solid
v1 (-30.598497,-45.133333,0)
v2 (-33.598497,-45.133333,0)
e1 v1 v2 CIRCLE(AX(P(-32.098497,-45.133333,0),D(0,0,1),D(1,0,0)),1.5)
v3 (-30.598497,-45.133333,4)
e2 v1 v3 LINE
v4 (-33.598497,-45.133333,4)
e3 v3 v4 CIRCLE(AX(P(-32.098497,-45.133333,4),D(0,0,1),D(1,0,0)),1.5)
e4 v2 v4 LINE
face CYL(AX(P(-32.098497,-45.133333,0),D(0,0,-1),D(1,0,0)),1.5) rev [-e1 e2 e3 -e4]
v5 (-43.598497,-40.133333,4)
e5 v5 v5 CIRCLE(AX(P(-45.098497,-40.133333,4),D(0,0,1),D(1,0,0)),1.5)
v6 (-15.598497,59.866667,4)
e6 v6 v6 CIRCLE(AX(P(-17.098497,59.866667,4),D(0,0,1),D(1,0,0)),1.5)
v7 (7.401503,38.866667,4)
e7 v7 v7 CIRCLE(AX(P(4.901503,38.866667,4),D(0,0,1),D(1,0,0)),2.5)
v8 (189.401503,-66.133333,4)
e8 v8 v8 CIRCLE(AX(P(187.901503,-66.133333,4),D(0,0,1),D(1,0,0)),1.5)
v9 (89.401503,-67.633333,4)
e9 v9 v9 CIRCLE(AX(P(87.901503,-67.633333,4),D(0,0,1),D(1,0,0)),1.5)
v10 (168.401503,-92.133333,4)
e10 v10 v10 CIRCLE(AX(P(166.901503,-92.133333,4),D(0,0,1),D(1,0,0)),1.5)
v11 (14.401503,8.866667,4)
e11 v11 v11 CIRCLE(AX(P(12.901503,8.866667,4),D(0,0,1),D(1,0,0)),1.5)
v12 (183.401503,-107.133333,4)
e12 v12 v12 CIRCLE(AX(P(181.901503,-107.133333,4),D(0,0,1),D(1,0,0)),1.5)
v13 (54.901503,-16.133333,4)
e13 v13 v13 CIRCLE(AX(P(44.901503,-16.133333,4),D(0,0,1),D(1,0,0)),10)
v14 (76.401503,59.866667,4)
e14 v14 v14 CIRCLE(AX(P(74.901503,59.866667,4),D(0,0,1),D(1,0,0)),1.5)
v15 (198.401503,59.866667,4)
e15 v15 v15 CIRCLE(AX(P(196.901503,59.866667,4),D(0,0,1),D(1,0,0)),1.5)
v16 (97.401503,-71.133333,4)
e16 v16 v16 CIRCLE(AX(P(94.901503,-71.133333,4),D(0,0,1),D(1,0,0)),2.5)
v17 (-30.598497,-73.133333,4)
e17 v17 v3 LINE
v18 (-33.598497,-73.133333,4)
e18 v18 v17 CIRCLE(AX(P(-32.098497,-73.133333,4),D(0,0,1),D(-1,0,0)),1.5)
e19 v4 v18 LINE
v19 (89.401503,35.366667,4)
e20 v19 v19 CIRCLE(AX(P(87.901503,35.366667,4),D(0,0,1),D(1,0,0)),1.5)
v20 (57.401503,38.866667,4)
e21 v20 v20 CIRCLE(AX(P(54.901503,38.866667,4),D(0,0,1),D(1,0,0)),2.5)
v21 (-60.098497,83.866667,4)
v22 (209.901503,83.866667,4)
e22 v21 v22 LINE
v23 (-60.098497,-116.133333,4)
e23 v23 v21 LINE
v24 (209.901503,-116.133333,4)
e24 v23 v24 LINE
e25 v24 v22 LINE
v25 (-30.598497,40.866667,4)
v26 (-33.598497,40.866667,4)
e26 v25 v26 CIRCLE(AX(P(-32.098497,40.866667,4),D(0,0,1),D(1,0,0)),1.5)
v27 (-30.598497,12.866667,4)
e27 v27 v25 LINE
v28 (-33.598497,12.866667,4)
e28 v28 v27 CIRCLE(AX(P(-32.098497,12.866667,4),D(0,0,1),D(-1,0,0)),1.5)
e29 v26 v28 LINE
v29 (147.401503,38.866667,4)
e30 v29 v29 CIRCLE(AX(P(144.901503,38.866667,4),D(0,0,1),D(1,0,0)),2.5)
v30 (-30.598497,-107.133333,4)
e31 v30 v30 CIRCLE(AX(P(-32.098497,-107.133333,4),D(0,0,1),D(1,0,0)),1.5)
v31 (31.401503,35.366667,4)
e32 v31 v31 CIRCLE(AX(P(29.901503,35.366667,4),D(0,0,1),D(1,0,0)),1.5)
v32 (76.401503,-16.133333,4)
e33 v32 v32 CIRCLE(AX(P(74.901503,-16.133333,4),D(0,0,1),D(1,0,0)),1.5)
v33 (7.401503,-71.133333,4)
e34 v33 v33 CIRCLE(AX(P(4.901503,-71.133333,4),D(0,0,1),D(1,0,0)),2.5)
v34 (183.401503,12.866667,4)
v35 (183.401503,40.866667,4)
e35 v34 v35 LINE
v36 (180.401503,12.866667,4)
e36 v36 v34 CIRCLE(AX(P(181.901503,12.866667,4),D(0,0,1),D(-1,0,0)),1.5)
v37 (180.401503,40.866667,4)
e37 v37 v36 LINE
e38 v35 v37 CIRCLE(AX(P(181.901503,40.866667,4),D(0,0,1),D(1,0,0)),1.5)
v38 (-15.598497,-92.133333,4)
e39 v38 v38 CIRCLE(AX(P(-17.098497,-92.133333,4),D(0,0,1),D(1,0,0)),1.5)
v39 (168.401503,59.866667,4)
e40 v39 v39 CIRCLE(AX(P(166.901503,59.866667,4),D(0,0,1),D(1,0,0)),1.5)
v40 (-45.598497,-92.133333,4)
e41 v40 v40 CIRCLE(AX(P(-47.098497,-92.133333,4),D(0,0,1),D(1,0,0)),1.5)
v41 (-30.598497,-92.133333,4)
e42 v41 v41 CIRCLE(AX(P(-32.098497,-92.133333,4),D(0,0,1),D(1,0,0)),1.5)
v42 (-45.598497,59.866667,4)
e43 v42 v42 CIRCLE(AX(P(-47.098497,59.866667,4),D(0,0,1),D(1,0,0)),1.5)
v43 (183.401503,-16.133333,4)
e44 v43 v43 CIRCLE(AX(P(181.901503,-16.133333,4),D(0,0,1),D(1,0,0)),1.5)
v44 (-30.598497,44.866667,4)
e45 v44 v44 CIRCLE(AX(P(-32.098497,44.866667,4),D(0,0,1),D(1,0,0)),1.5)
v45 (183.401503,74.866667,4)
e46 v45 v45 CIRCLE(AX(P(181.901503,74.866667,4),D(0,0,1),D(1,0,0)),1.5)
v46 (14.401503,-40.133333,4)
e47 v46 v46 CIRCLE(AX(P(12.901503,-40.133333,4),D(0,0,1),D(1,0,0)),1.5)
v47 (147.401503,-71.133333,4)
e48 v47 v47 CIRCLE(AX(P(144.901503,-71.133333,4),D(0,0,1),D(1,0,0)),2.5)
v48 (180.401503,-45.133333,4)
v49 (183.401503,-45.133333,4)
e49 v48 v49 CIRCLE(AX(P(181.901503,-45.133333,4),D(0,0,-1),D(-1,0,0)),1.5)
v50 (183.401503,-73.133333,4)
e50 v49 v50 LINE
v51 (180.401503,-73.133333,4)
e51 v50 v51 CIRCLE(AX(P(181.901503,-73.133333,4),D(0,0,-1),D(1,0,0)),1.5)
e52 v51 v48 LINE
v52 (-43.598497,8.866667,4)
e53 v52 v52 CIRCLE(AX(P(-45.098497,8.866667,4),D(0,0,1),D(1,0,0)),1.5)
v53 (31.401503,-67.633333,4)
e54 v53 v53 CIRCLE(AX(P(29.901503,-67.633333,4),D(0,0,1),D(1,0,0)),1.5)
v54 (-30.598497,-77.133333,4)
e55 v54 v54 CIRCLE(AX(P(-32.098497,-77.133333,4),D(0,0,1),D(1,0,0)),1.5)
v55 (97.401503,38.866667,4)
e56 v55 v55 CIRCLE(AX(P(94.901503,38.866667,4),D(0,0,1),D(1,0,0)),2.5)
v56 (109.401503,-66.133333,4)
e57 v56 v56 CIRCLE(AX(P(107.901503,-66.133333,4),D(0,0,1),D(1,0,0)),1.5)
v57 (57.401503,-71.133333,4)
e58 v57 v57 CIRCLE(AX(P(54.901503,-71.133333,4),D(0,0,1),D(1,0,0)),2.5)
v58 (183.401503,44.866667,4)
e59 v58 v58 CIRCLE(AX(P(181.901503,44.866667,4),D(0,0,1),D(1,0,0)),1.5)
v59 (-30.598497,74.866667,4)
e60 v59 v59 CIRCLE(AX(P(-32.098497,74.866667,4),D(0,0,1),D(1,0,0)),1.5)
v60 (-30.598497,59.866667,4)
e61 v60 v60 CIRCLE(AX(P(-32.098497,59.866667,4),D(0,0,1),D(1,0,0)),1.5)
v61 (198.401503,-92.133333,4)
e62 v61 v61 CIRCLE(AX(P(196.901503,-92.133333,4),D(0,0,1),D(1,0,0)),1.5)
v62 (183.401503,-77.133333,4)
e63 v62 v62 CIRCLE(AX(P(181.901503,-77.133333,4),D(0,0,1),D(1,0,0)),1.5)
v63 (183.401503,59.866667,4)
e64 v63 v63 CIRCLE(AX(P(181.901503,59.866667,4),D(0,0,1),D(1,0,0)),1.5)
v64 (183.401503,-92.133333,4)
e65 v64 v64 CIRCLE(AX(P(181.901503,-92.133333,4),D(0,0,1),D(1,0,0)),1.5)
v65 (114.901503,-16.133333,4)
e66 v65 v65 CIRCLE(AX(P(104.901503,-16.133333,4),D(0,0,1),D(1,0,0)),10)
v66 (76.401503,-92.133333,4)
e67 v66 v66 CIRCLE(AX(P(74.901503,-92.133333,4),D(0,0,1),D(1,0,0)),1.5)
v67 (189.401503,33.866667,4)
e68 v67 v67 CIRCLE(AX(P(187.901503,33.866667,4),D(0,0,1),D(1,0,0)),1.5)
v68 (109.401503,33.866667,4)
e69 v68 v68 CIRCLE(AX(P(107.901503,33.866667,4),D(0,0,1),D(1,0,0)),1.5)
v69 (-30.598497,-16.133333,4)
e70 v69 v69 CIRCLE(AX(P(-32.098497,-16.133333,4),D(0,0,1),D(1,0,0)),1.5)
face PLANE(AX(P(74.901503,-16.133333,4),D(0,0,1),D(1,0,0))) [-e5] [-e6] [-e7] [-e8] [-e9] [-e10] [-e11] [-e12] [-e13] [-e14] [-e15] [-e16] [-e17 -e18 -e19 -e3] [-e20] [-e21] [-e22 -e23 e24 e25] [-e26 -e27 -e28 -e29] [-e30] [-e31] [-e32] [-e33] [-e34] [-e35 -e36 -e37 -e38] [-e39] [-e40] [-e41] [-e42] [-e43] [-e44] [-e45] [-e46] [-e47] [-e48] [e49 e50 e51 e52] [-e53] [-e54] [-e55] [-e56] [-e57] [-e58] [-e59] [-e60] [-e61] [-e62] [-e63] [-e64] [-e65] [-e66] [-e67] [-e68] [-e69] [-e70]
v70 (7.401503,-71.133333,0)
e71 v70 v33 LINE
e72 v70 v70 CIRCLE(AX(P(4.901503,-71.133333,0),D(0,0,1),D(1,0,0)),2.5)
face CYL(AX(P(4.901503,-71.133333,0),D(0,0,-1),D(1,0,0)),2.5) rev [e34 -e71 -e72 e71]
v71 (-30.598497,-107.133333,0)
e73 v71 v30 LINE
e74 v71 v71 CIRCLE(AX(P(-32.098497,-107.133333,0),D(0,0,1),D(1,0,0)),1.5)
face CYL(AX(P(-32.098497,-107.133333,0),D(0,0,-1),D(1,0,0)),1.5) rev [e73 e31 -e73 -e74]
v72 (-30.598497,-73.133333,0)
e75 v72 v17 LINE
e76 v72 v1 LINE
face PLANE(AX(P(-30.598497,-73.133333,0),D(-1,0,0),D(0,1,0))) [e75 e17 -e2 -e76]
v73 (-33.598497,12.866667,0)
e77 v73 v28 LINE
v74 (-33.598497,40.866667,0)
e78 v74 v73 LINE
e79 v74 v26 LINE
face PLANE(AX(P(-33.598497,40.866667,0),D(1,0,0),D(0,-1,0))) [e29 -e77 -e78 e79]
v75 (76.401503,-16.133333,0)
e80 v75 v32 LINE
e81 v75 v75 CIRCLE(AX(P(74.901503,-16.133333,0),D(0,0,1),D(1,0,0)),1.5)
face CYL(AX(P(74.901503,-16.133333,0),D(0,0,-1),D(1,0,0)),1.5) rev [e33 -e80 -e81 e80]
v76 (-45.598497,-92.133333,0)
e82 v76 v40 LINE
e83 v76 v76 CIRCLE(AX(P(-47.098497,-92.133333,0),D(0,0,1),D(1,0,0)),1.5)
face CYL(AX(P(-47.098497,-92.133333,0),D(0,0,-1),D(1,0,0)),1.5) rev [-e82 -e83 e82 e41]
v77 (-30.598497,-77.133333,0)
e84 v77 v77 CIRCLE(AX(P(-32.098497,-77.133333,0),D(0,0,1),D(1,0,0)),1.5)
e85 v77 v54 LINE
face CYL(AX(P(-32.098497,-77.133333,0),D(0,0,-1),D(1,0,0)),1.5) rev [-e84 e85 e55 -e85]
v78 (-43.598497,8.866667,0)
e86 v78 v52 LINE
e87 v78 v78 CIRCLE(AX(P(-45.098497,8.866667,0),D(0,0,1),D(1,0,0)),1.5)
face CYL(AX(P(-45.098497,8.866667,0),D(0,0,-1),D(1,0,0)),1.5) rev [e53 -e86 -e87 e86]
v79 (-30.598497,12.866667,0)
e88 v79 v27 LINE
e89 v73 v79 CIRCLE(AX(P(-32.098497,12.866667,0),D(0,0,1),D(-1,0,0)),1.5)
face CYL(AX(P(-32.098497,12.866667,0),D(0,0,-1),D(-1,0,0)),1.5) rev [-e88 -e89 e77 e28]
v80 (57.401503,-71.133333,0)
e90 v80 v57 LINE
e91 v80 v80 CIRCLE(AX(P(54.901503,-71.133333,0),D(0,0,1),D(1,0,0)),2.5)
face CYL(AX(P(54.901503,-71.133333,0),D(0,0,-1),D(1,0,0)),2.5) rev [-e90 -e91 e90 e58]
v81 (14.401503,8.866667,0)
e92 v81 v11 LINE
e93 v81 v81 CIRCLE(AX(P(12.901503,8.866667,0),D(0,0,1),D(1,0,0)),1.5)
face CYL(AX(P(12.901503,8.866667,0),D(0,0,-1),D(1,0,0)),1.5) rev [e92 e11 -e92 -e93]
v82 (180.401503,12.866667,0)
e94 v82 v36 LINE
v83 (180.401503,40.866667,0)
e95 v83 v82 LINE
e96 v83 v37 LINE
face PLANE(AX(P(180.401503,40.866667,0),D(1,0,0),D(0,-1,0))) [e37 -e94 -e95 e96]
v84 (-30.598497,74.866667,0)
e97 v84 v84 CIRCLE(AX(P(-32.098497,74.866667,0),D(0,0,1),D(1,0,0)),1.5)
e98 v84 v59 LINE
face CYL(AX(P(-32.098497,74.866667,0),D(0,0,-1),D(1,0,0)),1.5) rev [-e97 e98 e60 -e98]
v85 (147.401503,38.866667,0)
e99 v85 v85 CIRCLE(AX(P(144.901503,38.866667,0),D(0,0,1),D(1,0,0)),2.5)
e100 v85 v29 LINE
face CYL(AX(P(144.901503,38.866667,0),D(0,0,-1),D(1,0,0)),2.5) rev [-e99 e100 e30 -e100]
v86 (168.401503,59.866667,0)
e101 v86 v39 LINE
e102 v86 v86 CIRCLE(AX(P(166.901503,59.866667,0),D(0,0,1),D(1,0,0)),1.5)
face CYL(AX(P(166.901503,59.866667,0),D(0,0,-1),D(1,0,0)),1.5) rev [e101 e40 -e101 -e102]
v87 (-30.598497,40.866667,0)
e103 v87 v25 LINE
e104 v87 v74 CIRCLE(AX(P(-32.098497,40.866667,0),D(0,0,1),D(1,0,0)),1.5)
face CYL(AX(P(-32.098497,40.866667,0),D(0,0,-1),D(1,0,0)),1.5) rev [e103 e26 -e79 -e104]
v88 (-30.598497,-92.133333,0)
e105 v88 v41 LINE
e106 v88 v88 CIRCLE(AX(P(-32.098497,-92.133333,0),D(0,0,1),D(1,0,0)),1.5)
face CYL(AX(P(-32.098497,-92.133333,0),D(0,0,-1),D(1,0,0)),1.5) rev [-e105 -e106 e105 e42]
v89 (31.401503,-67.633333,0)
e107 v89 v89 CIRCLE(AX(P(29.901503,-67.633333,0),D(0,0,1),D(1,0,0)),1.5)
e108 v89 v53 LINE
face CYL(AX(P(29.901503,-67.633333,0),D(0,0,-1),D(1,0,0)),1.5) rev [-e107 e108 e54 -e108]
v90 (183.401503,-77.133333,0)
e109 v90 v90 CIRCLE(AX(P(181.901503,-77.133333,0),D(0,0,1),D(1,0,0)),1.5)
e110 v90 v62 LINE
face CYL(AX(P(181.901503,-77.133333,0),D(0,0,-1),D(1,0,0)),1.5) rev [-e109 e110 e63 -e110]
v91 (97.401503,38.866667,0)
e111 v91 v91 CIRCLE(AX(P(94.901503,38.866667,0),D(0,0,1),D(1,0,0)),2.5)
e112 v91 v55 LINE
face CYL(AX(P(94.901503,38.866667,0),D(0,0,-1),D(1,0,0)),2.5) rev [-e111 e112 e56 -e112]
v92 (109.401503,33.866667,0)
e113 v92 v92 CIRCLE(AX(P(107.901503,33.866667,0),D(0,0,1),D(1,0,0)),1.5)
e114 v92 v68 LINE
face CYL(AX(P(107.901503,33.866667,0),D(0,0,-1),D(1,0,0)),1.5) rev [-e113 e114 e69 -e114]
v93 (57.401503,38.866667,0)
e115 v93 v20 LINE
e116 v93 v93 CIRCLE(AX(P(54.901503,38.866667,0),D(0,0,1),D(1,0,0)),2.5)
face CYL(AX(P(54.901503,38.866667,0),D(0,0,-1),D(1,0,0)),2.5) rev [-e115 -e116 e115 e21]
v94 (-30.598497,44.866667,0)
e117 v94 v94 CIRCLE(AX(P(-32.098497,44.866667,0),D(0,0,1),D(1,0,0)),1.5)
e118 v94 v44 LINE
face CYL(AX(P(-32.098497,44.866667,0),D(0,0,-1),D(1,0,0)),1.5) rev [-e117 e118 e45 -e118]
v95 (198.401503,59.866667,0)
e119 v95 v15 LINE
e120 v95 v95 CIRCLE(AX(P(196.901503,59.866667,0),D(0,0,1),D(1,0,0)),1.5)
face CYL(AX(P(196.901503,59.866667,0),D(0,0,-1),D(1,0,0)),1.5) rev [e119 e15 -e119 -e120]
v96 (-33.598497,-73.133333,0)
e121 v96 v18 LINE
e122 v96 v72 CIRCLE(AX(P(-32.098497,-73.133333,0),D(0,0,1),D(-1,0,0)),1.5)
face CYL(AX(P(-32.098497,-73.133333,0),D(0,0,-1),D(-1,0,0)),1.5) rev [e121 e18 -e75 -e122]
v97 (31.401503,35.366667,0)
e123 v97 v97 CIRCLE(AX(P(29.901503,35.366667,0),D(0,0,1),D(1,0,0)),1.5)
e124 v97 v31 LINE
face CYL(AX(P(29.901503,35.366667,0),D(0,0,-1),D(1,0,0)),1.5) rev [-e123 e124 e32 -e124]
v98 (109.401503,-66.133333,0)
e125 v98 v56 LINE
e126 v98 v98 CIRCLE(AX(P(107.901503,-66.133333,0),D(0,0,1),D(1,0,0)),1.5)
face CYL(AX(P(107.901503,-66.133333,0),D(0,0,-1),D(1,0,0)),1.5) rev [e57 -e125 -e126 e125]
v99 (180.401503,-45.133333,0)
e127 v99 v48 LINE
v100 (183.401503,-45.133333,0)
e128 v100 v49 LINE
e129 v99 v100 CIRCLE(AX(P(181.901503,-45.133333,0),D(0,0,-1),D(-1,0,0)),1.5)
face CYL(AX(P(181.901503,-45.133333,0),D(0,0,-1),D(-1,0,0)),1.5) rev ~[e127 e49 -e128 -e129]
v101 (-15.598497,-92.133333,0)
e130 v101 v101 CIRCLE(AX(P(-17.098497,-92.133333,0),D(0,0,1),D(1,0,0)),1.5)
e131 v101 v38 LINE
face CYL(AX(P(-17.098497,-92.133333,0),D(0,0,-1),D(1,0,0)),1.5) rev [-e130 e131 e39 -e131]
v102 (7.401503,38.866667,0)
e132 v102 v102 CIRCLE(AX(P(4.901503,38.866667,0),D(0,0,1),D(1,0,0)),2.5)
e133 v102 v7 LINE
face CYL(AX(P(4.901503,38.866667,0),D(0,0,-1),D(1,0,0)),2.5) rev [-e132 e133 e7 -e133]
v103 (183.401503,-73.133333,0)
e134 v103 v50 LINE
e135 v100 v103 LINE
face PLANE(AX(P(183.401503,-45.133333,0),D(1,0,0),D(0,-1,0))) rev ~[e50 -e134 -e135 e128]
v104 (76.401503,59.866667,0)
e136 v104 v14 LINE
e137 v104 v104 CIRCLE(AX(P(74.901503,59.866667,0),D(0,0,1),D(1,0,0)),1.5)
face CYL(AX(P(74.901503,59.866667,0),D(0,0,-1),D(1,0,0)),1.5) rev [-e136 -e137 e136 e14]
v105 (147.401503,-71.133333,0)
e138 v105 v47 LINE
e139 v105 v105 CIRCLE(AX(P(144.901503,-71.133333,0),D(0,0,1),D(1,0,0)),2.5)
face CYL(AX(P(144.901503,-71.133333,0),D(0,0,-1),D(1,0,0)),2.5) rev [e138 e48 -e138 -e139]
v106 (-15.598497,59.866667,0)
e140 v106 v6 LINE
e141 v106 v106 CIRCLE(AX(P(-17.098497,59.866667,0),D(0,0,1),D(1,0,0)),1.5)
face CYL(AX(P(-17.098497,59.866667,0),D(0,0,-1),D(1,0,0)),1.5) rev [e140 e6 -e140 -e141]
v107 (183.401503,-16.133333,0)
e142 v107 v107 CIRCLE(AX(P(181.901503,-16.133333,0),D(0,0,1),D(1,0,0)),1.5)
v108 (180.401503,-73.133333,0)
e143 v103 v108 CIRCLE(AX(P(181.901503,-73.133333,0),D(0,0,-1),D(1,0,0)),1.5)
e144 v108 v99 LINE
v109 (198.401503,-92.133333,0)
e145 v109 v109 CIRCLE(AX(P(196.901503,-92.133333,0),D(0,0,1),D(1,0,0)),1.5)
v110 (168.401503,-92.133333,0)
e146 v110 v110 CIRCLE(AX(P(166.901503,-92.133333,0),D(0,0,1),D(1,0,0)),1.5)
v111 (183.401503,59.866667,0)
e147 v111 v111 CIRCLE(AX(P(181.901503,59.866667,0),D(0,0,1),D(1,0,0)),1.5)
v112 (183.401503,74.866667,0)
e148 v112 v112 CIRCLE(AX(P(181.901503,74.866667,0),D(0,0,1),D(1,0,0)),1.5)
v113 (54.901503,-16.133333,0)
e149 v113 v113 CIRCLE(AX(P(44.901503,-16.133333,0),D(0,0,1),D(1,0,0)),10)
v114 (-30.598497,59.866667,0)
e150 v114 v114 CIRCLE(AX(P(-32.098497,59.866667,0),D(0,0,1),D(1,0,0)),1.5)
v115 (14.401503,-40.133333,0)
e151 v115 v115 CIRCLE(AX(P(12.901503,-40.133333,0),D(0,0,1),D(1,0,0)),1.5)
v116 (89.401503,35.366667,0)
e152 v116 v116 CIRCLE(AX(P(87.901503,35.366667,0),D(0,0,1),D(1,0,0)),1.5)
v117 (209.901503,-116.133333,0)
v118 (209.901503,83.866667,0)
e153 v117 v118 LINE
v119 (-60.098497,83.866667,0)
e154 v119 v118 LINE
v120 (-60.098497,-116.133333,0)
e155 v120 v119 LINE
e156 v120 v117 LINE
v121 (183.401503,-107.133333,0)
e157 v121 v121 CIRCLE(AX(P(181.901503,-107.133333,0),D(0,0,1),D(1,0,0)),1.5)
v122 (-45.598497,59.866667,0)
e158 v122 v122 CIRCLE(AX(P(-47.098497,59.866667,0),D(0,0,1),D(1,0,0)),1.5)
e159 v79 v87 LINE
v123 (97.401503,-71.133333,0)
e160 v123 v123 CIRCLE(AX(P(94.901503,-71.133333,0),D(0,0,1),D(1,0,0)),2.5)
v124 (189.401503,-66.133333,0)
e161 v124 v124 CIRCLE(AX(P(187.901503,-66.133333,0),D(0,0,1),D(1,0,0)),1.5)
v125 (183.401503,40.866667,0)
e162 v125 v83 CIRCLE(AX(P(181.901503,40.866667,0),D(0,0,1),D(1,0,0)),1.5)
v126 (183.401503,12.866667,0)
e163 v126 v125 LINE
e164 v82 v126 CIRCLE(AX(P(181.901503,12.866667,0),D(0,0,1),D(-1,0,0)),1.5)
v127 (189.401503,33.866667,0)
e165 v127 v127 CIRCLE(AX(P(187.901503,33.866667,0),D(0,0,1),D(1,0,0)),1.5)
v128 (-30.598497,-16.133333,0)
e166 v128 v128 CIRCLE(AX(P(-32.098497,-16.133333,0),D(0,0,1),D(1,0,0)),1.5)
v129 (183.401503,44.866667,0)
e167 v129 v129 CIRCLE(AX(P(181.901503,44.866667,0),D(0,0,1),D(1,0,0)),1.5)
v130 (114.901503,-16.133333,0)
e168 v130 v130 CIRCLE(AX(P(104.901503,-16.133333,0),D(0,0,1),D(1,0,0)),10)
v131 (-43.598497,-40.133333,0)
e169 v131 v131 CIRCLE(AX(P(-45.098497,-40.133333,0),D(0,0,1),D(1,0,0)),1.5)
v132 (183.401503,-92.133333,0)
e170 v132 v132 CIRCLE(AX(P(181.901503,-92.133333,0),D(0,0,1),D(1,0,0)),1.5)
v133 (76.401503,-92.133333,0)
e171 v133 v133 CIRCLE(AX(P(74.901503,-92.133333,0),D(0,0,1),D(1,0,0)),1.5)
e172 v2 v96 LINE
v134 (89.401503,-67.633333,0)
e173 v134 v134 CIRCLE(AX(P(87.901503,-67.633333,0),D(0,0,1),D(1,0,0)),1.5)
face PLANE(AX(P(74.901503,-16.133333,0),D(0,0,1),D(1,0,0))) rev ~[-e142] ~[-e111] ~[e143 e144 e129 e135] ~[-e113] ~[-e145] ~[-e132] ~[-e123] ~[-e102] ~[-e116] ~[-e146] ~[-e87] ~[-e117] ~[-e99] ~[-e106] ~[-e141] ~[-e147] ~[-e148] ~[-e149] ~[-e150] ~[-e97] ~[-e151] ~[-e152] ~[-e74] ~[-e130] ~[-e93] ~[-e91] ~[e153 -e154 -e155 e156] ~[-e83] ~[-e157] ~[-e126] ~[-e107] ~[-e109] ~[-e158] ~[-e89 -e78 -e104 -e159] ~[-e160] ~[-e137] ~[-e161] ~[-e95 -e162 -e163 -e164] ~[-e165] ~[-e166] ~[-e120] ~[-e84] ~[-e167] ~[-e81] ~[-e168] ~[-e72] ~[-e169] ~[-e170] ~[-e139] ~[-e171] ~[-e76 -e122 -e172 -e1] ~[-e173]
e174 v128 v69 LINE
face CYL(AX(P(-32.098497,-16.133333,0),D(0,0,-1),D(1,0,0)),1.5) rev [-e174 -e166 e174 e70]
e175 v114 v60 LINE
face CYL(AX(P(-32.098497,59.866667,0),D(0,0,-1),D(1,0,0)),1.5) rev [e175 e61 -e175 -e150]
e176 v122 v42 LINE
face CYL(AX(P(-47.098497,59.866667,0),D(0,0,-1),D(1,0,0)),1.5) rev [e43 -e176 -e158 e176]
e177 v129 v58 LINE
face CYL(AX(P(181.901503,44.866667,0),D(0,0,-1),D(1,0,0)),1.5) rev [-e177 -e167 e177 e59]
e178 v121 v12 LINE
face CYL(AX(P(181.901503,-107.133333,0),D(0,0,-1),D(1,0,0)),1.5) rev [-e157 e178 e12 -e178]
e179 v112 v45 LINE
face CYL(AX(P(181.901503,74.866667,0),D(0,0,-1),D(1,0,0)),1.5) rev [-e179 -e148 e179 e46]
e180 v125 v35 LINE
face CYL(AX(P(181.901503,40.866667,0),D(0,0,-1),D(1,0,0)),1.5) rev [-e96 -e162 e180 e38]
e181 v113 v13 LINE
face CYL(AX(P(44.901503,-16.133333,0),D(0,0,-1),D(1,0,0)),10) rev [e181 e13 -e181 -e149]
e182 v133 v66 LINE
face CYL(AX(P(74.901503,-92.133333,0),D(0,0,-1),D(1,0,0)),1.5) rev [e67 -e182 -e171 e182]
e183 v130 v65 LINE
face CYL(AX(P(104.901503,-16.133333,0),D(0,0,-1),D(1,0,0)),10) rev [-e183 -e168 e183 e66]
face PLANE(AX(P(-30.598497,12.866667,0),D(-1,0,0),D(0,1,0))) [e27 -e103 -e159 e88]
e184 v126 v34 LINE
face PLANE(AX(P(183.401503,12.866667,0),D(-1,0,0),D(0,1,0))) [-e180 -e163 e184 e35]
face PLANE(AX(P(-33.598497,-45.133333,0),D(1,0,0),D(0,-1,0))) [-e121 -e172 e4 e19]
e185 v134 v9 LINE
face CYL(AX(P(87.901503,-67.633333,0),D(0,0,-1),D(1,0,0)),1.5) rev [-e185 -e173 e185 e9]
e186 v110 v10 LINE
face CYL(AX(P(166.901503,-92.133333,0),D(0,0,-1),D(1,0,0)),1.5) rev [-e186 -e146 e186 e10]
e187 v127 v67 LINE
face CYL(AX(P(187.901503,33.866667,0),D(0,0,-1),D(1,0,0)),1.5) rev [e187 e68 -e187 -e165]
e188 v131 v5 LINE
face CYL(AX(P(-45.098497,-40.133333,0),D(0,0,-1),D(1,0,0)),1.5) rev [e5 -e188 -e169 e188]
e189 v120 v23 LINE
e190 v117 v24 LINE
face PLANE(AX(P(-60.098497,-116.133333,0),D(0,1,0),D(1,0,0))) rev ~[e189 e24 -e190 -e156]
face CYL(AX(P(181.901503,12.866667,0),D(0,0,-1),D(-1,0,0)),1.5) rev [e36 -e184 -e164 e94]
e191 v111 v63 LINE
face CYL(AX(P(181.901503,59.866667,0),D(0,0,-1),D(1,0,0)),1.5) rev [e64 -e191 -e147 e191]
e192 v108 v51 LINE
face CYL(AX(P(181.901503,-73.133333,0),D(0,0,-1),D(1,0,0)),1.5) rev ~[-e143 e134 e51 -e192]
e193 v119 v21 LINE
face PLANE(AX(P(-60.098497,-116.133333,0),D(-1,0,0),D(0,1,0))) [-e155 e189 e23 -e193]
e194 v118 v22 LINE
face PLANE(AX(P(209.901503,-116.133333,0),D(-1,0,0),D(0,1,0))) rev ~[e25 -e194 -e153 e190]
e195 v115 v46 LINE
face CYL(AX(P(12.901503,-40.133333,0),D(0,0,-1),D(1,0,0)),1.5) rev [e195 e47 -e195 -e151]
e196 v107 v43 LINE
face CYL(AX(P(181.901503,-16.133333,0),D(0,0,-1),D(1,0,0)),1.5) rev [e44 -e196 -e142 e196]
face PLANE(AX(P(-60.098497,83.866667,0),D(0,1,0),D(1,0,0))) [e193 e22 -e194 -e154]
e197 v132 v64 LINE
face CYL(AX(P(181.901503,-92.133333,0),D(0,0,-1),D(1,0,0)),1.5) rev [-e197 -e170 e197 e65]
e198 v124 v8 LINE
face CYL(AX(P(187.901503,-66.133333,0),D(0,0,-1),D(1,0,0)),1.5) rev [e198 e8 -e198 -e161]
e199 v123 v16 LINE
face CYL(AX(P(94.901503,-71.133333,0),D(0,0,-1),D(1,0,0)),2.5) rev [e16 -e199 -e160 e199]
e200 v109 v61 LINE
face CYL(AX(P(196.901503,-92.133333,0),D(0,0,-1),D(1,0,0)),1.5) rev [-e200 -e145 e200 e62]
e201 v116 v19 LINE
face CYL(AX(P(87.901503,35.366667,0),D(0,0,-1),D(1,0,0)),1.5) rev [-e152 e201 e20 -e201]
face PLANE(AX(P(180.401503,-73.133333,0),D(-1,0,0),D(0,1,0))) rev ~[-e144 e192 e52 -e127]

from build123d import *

# Parameters (mm, degrees)
SKETCH1_W           = 270
SKETCH1_H           = 200
SKETCH1_R           = 1.5
SKETCH1_R_2         = 10
SKETCH1_R_3         = 2.5
BOSS_EXTRUDE1_DEPTH = 4


with BuildPart() as part:
    # Sketch1 → Boss-Extrude1 (new body)
    with BuildSketch(Plane.XY):
        with Locations((74.901502586, -16.133333333)):
            Rectangle(SKETCH1_W, SKETCH1_H)
        with Locations((-32.098497414, -92.133333333)):
            Circle(SKETCH1_R, mode=Mode.SUBTRACT)
        with Locations((-17.098497414, -92.133333333)):
            Circle(SKETCH1_R, mode=Mode.SUBTRACT)
        with Locations((-32.098497414, -107.133333333)):
            Circle(SKETCH1_R, mode=Mode.SUBTRACT)
        with Locations((-47.098497414, -92.133333333)):
            Circle(SKETCH1_R, mode=Mode.SUBTRACT)
        with Locations((-32.098497414, -77.133333333)):
            Circle(SKETCH1_R, mode=Mode.SUBTRACT)
        with Locations((74.901502586, -16.133333333)):
            Circle(SKETCH1_R, mode=Mode.SUBTRACT)
        with Locations((196.901502586, -92.133333333)):
            Circle(SKETCH1_R, mode=Mode.SUBTRACT)
        with Locations((181.901502586, -77.133333333)):
            Circle(SKETCH1_R, mode=Mode.SUBTRACT)
        with Locations((181.901502586, -92.133333333)):
            Circle(SKETCH1_R, mode=Mode.SUBTRACT)
        with Locations((181.901502586, -107.133333333)):
            Circle(SKETCH1_R, mode=Mode.SUBTRACT)
        with Locations((166.901502586, -92.133333333)):
            Circle(SKETCH1_R, mode=Mode.SUBTRACT)
        with Locations((196.901502586, 59.866666667)):
            Circle(SKETCH1_R, mode=Mode.SUBTRACT)
        with Locations((181.901502586, 74.866666667)):
            Circle(SKETCH1_R, mode=Mode.SUBTRACT)
        with Locations((181.901502586, 59.866666667)):
            Circle(SKETCH1_R, mode=Mode.SUBTRACT)
        with Locations((181.901502586, 44.866666667)):
            Circle(SKETCH1_R, mode=Mode.SUBTRACT)
        with Locations((166.901502586, 59.866666667)):
            Circle(SKETCH1_R, mode=Mode.SUBTRACT)
        with Locations((-17.098497414, 59.866666667)):
            Circle(SKETCH1_R, mode=Mode.SUBTRACT)
        with Locations((-32.098497414, 74.866666667)):
            Circle(SKETCH1_R, mode=Mode.SUBTRACT)
        with Locations((-32.098497414, 59.866666667)):
            Circle(SKETCH1_R, mode=Mode.SUBTRACT)
        with Locations((-32.098497414, 44.866666667)):
            Circle(SKETCH1_R, mode=Mode.SUBTRACT)
        with Locations((-47.098497414, 59.866666667)):
            Circle(SKETCH1_R, mode=Mode.SUBTRACT)
        with Locations((181.901502586, -16.133333333)):
            Circle(SKETCH1_R, mode=Mode.SUBTRACT)
        with Locations((74.901502586, 59.866666667)):
            Circle(SKETCH1_R, mode=Mode.SUBTRACT)
        with Locations((104.901502586, -16.133333333)):
            Circle(SKETCH1_R_2, mode=Mode.SUBTRACT)
        with Locations((44.901502586, -16.133333333)):
            Circle(SKETCH1_R_2, mode=Mode.SUBTRACT)
        with Locations((-32.098497414, -16.133333333)):
            Circle(SKETCH1_R, mode=Mode.SUBTRACT)
        with Locations((74.901502586, -92.133333333)):
            Circle(SKETCH1_R, mode=Mode.SUBTRACT)
        with Locations((4.901502586, 38.866666667)):
            Circle(SKETCH1_R_3, mode=Mode.SUBTRACT)
        with Locations((54.901502586, 38.866666667)):
            Circle(SKETCH1_R_3, mode=Mode.SUBTRACT)
        with Locations((94.901502586, 38.866666667)):
            Circle(SKETCH1_R_3, mode=Mode.SUBTRACT)
        with Locations((144.901502586, 38.866666667)):
            Circle(SKETCH1_R_3, mode=Mode.SUBTRACT)
        with Locations((94.901502586, -71.133333333)):
            Circle(SKETCH1_R_3, mode=Mode.SUBTRACT)
        with Locations((144.901502586, -71.133333333)):
            Circle(SKETCH1_R_3, mode=Mode.SUBTRACT)
        with Locations((4.901502586, -71.133333333)):
            Circle(SKETCH1_R_3, mode=Mode.SUBTRACT)
        with Locations((54.901502586, -71.133333333)):
            Circle(SKETCH1_R_3, mode=Mode.SUBTRACT)
        with Locations((-45.098497414, 8.866666667)):
            Circle(SKETCH1_R, mode=Mode.SUBTRACT)
        with Locations((12.901502586, 8.866666667)):
            Circle(SKETCH1_R, mode=Mode.SUBTRACT)
        with Locations((12.901502586, -40.133333333)):
            Circle(SKETCH1_R, mode=Mode.SUBTRACT)
        with Locations((-45.098497414, -40.133333333)):
            Circle(SKETCH1_R, mode=Mode.SUBTRACT)
        with Locations((29.901502586, 35.366666667)):
            Circle(SKETCH1_R, mode=Mode.SUBTRACT)
        with Locations((87.901502586, 35.366666667)):
            Circle(SKETCH1_R, mode=Mode.SUBTRACT)
        with Locations((87.901502586, -67.633333333)):
            Circle(SKETCH1_R, mode=Mode.SUBTRACT)
        with Locations((29.901502586, -67.633333333)):
            Circle(SKETCH1_R, mode=Mode.SUBTRACT)
        with Locations((107.901502586, 33.866666667)):
            Circle(SKETCH1_R, mode=Mode.SUBTRACT)
        with Locations((187.901502586, 33.866666667)):
            Circle(SKETCH1_R, mode=Mode.SUBTRACT)
        with Locations((187.901502586, -66.133333333)):
            Circle(SKETCH1_R, mode=Mode.SUBTRACT)
        with Locations((107.901502586, -66.133333333)):
            Circle(SKETCH1_R, mode=Mode.SUBTRACT)
        with BuildLine():
            Line((183.401502586, -45.133333333), (183.401502586, -73.133333333))
            ThreePointArc((183.401502586, -73.133333333), (181.901502586, -74.633333333), (180.401502586, -73.133333333))
            Line((180.401502586, -73.133333333), (180.401502586, -45.133333333))
            ThreePointArc((180.401502586, -45.133333333), (181.901502586, -43.633333333), (183.401502586, -45.133333333))
        make_face(mode=Mode.SUBTRACT)
        with BuildLine():
            Line((-33.598497414, -45.133333333), (-33.598497414, -73.133333333))
            ThreePointArc((-33.598497414, -73.133333333), (-32.098497414, -74.633333333), (-30.598497414, -73.133333333))
            Line((-30.598497414, -73.133333333), (-30.598497414, -45.133333333))
            ThreePointArc((-30.598497414, -45.133333333), (-32.098497414, -43.633333333), (-33.598497414, -45.133333333))
        make_face(mode=Mode.SUBTRACT)
        with BuildLine():
            Line((-33.598497414, 40.866666667), (-33.598497414, 12.866666667))
            ThreePointArc((-33.598497414, 12.866666667), (-32.098497414, 11.366666667), (-30.598497414, 12.866666667))
            Line((-30.598497414, 12.866666667), (-30.598497414, 40.866666667))
            ThreePointArc((-30.598497414, 40.866666667), (-32.098497414, 42.366666667), (-33.598497414, 40.866666667))
        make_face(mode=Mode.SUBTRACT)
        with BuildLine():
            Line((180.401502586, 40.866666667), (180.401502586, 12.866666667))
            ThreePointArc((180.401502586, 12.866666667), (181.901502586, 11.366666667), (183.401502586, 12.866666667))
            Line((183.401502586, 12.866666667), (183.401502586, 40.866666667))
            ThreePointArc((183.401502586, 40.866666667), (181.901502586, 42.366666667), (180.401502586, 40.866666667))
        make_face(mode=Mode.SUBTRACT)
    extrude(amount=BOSS_EXTRUDE1_DEPTH)


solid = part.part
